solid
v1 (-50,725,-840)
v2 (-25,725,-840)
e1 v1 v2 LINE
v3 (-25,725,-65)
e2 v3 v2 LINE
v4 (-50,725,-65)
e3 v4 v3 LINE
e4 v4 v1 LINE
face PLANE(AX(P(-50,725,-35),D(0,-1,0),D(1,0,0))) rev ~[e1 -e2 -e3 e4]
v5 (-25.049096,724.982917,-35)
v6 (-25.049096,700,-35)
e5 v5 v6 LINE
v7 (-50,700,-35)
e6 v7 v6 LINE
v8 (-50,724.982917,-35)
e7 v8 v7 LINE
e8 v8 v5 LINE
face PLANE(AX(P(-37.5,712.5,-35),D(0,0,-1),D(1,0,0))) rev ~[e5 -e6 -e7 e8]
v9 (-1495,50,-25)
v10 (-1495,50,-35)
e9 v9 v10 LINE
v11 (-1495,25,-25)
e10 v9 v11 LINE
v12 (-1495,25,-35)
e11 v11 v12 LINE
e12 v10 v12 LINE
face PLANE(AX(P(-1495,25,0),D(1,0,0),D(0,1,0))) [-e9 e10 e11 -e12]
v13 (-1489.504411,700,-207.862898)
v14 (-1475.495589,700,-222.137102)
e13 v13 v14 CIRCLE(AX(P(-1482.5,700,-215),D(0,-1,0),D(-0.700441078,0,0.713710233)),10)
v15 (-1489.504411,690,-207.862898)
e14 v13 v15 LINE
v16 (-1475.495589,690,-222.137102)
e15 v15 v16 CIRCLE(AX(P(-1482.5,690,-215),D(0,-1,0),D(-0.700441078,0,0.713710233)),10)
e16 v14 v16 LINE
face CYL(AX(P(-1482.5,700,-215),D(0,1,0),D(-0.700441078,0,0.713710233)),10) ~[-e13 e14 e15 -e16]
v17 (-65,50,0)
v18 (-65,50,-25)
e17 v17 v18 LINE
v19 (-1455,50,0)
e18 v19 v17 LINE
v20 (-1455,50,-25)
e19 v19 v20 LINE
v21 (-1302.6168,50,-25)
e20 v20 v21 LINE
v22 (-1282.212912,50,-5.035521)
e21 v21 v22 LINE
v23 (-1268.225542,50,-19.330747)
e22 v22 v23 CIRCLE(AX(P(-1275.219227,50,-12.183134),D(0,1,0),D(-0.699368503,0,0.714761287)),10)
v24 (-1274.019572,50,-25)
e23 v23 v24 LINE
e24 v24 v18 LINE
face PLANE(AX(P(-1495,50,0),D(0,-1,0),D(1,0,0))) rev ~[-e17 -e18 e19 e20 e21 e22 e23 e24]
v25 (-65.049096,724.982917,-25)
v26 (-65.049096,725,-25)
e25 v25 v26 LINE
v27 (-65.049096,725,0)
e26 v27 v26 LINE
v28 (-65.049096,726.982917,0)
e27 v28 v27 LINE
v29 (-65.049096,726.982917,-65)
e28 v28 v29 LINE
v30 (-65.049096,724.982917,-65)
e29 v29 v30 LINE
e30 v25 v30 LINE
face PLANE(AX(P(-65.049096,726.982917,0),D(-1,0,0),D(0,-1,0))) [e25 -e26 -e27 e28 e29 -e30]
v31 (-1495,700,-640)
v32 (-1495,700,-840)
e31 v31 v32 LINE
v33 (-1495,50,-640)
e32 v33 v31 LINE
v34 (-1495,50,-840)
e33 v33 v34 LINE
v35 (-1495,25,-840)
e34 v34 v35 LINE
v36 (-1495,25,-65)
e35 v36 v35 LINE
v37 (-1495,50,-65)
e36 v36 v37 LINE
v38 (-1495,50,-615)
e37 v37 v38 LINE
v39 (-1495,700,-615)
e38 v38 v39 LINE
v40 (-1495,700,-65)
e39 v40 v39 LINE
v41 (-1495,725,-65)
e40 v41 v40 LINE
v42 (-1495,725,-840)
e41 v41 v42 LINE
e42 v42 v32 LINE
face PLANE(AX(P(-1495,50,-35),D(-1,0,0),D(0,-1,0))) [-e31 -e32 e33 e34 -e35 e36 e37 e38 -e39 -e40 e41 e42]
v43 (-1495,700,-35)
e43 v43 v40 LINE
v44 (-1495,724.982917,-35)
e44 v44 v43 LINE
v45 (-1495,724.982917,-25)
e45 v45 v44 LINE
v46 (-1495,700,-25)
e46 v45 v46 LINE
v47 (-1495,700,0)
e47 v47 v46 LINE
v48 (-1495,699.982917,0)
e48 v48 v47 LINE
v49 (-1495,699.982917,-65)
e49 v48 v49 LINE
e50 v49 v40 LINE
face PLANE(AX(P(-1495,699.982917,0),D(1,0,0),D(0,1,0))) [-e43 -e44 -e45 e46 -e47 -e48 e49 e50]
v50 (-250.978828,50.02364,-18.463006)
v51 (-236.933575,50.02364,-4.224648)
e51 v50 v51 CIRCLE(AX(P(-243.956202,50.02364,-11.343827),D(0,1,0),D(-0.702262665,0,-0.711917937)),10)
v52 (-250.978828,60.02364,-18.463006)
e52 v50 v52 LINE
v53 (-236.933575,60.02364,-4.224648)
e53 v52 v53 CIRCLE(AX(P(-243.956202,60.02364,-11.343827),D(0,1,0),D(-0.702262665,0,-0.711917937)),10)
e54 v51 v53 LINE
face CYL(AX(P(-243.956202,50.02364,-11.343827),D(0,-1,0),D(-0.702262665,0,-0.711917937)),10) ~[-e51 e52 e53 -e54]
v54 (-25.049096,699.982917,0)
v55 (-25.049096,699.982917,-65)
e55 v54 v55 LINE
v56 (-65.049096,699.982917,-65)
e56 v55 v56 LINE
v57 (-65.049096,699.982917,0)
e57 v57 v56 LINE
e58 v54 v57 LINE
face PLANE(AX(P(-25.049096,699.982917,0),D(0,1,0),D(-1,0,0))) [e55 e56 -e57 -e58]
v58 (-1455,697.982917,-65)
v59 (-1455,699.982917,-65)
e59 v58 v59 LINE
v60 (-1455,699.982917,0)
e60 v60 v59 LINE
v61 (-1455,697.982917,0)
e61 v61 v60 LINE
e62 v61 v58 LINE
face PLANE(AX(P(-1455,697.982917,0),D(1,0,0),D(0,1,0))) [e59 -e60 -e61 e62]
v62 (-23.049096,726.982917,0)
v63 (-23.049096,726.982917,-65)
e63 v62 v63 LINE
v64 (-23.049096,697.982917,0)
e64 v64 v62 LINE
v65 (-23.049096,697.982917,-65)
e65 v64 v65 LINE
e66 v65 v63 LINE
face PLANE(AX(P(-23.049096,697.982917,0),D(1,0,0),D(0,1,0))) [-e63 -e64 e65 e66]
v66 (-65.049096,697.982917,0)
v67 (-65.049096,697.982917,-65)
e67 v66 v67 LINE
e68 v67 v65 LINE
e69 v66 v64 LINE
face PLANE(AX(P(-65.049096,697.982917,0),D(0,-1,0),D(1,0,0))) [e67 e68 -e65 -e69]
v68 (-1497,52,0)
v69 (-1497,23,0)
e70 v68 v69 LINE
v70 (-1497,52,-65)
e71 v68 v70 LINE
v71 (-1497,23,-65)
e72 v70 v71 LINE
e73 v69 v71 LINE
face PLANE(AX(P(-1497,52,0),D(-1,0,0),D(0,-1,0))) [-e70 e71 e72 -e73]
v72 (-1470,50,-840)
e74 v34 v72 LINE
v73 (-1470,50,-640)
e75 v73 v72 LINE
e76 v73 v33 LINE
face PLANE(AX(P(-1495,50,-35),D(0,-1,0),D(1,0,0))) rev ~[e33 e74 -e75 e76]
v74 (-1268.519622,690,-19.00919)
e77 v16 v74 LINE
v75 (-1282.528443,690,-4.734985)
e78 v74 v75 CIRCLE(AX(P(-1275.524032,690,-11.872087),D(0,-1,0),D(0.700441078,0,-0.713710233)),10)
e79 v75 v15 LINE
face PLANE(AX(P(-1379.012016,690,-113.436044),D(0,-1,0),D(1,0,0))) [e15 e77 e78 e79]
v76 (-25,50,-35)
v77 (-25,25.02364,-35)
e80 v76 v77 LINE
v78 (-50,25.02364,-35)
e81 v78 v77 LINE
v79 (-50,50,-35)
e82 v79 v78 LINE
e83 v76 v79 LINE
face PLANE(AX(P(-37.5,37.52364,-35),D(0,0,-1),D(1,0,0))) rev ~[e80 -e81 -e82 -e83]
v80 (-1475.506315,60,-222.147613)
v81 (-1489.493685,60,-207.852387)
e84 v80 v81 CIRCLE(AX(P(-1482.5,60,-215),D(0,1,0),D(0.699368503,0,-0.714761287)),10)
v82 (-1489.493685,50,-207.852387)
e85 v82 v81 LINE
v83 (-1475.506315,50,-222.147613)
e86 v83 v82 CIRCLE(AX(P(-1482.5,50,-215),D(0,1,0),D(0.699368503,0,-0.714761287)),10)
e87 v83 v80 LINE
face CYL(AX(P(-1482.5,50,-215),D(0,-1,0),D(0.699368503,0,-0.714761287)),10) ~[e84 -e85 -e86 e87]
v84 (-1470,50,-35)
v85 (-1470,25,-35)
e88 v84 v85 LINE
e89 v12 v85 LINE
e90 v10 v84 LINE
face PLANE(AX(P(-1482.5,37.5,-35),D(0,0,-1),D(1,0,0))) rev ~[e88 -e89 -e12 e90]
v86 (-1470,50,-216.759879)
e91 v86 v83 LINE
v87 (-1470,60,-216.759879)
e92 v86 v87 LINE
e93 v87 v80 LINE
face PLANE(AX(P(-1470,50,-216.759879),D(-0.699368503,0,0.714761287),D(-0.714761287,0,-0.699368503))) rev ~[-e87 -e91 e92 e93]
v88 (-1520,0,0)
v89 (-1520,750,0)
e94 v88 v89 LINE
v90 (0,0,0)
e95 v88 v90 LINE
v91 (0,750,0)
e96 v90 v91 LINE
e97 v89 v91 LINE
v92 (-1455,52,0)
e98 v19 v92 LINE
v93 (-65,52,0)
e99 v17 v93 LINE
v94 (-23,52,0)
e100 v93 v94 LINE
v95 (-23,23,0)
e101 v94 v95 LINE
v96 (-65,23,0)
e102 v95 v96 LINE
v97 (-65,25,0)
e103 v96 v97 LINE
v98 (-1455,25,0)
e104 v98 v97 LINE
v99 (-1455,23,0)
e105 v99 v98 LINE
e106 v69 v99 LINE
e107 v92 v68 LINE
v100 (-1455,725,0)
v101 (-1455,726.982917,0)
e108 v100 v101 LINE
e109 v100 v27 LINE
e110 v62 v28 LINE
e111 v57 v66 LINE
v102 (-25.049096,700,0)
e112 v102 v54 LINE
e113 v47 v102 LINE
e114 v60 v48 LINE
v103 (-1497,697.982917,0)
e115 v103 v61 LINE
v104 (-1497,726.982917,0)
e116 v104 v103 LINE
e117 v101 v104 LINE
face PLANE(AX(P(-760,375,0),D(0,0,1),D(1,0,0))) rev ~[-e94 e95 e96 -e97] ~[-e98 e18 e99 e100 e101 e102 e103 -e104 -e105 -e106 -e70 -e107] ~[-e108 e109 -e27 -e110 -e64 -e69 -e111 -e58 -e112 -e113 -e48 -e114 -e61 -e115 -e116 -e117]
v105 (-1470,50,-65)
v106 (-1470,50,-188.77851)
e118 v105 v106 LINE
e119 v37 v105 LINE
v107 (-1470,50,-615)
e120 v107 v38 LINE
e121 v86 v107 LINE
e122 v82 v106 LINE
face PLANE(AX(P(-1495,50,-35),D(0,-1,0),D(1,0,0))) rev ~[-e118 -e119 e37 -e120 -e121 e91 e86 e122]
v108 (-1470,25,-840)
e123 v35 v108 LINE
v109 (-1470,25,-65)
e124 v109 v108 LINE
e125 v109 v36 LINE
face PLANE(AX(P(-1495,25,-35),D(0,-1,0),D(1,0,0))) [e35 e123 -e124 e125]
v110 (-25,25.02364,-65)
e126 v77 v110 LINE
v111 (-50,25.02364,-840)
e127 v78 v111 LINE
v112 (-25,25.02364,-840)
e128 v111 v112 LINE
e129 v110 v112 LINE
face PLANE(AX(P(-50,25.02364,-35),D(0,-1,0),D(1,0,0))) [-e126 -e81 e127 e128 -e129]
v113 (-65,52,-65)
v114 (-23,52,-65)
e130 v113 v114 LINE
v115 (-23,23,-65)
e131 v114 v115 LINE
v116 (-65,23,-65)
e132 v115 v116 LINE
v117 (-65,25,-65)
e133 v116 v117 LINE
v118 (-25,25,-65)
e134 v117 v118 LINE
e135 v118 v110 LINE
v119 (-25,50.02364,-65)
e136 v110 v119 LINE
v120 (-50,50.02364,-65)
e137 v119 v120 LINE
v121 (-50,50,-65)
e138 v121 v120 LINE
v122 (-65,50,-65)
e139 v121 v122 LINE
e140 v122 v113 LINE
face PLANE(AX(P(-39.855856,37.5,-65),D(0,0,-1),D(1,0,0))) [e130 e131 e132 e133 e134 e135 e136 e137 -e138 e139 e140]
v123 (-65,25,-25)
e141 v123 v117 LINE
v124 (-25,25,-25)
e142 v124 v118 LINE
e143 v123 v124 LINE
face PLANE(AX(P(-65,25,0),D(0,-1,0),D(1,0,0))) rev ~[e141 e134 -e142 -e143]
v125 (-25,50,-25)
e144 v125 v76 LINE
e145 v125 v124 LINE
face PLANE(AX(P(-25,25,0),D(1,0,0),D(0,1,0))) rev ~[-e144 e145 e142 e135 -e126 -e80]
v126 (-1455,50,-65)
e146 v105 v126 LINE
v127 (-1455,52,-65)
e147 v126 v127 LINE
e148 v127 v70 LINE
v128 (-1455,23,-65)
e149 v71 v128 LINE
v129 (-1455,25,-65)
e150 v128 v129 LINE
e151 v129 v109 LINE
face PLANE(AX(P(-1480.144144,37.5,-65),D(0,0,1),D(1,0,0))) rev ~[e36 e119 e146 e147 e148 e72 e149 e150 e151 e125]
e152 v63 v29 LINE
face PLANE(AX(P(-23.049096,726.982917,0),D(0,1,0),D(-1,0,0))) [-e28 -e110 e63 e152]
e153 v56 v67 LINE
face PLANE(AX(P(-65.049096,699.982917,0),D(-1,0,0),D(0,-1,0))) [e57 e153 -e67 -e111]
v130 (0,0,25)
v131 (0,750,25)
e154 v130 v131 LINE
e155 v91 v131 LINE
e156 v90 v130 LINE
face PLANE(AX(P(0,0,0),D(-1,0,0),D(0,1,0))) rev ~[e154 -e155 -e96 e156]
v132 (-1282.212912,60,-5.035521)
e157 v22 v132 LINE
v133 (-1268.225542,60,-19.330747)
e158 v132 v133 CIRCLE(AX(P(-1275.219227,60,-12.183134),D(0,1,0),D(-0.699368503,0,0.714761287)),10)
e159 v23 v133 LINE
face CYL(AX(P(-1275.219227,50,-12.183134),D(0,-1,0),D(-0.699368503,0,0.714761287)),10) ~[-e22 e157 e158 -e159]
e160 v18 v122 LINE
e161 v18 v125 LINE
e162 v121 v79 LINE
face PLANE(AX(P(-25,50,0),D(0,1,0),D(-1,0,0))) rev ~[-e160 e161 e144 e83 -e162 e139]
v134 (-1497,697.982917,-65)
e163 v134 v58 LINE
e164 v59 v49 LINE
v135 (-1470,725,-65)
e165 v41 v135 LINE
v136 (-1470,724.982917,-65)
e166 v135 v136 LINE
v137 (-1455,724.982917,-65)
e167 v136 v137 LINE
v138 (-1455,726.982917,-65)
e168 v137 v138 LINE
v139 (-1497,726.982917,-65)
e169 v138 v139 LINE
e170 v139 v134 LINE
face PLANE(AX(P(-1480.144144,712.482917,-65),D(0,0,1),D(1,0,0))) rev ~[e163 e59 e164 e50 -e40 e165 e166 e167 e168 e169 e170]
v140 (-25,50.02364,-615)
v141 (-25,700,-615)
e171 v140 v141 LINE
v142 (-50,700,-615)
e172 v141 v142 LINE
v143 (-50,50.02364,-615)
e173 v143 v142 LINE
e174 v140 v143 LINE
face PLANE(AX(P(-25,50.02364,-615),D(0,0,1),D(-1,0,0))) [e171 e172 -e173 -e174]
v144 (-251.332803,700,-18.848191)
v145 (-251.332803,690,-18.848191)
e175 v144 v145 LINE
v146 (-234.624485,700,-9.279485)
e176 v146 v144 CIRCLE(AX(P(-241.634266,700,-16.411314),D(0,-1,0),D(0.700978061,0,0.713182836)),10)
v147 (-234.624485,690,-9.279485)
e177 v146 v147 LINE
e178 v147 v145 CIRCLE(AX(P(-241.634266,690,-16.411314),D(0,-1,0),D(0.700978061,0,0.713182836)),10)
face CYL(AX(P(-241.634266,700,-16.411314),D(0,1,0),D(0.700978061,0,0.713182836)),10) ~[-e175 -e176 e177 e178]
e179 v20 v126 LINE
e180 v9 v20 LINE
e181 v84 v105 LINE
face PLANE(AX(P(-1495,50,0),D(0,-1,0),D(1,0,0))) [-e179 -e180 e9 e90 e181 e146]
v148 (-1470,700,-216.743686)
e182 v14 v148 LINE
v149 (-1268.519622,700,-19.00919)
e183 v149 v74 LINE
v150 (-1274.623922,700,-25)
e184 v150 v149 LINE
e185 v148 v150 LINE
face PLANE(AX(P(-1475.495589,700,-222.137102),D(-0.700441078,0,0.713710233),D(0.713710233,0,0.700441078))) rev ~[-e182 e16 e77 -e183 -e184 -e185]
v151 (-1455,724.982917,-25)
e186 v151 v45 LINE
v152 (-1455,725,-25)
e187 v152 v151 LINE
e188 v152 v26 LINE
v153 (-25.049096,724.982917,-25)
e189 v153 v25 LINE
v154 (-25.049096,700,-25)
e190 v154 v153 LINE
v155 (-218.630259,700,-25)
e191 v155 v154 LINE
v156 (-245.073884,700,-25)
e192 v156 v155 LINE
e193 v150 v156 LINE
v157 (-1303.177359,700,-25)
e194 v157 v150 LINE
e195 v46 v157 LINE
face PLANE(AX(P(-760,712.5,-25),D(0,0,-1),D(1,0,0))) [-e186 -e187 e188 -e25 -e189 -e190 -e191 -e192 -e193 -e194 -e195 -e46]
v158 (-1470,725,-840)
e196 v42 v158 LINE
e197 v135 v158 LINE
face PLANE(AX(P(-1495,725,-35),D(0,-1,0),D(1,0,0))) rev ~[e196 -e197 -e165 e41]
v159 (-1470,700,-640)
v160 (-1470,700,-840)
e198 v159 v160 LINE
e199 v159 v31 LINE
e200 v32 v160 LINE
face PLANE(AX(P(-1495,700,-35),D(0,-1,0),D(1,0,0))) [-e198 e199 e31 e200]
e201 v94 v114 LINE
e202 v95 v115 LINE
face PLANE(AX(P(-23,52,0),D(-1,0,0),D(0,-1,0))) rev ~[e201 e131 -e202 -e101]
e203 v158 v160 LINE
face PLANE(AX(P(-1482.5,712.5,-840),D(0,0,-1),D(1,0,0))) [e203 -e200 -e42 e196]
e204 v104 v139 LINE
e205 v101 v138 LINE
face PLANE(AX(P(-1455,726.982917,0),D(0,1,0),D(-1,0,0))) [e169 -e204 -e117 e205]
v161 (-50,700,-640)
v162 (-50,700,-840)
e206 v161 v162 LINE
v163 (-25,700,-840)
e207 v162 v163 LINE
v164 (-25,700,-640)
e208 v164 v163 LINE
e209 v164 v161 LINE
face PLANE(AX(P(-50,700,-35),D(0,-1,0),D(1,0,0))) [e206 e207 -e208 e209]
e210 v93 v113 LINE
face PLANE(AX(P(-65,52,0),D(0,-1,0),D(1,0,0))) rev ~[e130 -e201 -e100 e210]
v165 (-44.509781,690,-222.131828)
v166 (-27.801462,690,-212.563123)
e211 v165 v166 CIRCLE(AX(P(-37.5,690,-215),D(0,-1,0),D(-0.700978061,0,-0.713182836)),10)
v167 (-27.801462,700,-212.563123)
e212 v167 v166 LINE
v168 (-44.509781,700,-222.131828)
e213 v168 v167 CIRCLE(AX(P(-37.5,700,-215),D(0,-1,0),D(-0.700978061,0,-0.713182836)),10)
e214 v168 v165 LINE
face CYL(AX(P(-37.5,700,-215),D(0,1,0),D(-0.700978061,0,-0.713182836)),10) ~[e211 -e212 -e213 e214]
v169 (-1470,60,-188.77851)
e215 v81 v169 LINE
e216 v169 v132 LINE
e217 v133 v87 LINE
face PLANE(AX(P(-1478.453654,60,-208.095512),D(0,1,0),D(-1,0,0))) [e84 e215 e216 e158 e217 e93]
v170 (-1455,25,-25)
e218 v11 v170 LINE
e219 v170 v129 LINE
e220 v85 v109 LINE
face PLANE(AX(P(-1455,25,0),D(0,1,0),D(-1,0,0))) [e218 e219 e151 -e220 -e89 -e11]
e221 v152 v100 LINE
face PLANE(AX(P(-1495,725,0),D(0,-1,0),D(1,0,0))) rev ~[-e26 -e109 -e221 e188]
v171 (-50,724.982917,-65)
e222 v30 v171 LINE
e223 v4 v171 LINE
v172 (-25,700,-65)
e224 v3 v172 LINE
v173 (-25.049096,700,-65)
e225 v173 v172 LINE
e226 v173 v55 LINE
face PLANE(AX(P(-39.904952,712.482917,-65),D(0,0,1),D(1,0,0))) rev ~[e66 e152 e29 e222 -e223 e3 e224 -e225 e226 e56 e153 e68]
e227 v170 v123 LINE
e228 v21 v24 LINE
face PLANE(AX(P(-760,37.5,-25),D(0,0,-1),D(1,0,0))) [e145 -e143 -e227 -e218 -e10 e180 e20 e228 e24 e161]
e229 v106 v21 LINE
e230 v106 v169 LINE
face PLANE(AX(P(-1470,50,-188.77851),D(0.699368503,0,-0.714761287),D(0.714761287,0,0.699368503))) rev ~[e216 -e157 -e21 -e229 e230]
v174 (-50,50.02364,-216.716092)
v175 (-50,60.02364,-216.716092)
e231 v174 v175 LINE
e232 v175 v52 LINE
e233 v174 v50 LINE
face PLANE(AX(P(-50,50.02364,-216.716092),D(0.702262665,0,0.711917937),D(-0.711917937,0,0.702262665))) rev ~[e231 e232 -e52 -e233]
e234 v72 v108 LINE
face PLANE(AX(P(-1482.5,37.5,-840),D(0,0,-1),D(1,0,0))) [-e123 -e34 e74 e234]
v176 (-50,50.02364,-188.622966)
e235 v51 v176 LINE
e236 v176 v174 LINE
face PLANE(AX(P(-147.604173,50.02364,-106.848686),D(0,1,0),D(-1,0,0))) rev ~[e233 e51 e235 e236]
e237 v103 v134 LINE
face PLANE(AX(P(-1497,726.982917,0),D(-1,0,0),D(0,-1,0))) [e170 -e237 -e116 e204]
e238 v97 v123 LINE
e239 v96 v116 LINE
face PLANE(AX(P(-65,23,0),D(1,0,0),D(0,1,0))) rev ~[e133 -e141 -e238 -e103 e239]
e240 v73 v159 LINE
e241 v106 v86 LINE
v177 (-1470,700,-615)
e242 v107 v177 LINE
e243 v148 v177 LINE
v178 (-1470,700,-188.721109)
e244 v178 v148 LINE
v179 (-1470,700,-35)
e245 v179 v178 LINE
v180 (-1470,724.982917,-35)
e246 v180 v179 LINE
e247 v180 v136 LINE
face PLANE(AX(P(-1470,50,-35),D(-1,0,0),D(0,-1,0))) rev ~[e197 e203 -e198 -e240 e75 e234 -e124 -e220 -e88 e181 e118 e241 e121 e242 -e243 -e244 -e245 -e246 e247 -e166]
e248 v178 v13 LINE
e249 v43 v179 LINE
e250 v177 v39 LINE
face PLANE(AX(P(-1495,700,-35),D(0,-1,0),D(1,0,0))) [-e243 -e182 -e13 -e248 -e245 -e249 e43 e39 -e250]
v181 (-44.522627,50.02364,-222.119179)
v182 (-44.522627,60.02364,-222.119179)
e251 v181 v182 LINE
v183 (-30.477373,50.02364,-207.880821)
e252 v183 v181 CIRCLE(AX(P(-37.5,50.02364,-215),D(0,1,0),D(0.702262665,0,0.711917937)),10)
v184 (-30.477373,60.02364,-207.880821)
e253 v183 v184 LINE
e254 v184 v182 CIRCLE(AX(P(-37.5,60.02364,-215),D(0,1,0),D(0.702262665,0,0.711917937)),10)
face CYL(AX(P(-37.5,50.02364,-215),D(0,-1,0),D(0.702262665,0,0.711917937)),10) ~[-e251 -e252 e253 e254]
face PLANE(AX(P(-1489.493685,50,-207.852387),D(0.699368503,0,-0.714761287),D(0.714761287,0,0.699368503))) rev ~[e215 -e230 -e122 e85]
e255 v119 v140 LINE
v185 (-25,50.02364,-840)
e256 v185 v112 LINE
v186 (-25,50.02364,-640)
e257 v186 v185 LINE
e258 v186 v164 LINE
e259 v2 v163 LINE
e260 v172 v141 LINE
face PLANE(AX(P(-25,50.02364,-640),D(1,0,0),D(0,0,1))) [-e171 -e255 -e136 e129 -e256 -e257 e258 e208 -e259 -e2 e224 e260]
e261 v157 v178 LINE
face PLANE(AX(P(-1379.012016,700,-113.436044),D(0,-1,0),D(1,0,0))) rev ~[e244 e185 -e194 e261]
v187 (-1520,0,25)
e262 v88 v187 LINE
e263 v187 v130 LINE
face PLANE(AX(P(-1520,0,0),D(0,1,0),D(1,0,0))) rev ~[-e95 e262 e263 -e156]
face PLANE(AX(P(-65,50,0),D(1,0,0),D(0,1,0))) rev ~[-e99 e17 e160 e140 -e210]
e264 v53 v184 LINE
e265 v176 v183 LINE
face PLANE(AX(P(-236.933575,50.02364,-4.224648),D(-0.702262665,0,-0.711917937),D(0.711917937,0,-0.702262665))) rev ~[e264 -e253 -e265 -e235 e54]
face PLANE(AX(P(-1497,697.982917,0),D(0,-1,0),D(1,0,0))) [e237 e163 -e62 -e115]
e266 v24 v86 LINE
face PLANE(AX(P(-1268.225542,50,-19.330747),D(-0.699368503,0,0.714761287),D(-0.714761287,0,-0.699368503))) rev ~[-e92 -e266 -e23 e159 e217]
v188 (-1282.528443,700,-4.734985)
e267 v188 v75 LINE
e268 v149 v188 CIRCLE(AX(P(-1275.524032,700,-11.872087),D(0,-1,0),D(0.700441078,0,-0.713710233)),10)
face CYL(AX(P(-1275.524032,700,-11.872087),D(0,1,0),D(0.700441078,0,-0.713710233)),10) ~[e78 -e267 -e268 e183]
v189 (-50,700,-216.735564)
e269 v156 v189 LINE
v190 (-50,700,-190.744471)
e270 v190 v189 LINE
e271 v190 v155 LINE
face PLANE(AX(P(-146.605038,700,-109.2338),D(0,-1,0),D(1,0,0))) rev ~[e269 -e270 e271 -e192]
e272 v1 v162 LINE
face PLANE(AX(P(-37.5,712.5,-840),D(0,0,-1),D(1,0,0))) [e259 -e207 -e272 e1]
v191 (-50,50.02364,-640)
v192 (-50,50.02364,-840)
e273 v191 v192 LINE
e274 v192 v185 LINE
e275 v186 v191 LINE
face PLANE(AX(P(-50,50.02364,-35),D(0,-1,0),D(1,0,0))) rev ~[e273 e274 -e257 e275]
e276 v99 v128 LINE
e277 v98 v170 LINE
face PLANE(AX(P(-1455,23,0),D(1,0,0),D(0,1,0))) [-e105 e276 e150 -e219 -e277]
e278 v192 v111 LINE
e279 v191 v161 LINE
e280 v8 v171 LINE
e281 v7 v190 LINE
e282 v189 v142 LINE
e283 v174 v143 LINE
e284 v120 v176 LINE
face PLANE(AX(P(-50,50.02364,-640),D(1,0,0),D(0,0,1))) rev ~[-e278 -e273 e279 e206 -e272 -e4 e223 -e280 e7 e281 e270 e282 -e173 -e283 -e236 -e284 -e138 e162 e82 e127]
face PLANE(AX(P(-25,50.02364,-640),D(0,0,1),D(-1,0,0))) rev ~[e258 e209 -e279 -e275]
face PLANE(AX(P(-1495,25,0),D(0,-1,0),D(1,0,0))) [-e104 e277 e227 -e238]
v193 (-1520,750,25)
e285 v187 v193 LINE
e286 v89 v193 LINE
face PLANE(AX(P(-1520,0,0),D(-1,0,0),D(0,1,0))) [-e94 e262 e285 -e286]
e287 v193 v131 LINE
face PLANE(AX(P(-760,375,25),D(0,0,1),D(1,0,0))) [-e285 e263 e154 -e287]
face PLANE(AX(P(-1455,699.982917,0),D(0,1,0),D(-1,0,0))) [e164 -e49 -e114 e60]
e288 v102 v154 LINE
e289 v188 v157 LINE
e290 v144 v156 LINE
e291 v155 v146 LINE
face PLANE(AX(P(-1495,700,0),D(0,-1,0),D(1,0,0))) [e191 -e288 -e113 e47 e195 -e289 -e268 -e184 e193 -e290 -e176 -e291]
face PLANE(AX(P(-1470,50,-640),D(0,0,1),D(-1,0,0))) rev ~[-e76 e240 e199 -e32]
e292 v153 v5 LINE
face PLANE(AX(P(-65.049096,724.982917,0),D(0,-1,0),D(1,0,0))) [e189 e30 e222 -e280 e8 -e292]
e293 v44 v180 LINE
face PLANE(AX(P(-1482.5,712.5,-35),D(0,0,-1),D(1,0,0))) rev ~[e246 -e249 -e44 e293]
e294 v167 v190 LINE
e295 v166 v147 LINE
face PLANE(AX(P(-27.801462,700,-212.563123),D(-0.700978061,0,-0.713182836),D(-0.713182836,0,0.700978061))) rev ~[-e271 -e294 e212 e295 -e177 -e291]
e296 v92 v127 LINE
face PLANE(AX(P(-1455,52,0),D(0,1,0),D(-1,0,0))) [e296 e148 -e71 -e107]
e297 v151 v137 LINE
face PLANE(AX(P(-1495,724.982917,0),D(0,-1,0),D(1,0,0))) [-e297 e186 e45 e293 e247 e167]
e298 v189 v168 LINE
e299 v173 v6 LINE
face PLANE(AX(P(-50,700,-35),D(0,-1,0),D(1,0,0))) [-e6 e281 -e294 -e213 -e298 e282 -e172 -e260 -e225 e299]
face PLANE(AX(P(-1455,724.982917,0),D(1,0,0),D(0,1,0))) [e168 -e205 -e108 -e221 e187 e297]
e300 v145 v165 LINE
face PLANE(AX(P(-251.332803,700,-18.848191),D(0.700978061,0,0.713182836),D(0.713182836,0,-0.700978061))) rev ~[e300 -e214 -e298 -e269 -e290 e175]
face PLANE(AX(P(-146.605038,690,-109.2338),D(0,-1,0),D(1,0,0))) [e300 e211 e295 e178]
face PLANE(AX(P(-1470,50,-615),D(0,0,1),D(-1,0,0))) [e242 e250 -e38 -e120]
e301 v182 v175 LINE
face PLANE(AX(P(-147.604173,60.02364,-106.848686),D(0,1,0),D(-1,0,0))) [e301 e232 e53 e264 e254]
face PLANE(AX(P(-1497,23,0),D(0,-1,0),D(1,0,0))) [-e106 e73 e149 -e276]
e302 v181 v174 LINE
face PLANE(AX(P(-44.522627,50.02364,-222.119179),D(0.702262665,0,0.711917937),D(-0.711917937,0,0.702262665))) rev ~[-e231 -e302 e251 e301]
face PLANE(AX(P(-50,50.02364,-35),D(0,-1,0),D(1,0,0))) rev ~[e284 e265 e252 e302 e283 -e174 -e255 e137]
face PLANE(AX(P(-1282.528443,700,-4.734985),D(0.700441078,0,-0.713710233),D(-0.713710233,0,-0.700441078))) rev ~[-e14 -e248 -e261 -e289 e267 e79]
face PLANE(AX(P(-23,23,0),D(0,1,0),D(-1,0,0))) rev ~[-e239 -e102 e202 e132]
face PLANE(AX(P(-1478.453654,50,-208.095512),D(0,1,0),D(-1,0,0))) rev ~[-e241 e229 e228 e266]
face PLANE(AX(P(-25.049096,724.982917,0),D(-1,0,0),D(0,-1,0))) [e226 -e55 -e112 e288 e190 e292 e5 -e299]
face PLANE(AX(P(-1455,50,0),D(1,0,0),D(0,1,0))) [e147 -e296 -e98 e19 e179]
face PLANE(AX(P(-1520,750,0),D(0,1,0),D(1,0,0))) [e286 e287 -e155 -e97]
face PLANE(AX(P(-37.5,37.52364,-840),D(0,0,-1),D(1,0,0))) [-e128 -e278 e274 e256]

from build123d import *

# Parameters (mm, degrees)
F0_W      = 1520
F0_H      = 750
F1_DEPTH  = 25
F2_W      = 1470
F2_H      = 25
F3_DEPTH  = 25
F5_DEPTH  = 65
F7_W      = 25
F7_H      = 25
F8_DEPTH  = 805
F10_DEPTH = 65
F12_W     = 25
F12_H     = 25
F13_DEPTH = 805
F15_W     = 25
F15_H     = 25
F16_DEPTH = 805
F18_W     = 25
F18_H     = 25
F19_DEPTH = 650
F21_W     = 25
F21_H     = 25
F22_DEPTH = 650
F24_DEPTH = 10
F26_DEPTH = 10
F29_DEPTH = 10
F31_DEPTH = 10


with BuildPart() as f1:
    # F0 (on Top) → F1 (new body)
    with BuildSketch(Plane.XY):
        with Locations((-760, 375)):
            Rectangle(F0_W, F0_H)
    extrude(amount=F1_DEPTH)

    # F2 (on face) → F3 (join)
    with BuildSketch(Plane(origin=(0, 0, 0), x_dir=(1, 0, 0), z_dir=(0, 0, -1))):
        with Locations((-760, -37.5)):
            Rectangle(F2_W, F2_H)
        with Locations((-760, -712.5)):
            Rectangle(F2_W, F2_H)
    extrude(amount=F3_DEPTH)

    # F4 (on face) → F5 (join)
    with BuildSketch(Plane(origin=(0, 0, 0), x_dir=(1, 0, 0), z_dir=(0, 0, -1))):
        Polygon((-65, -25), (-25, -25), (-25, -50), (-65, -50), (-65, -52), (-23, -52), (-23, -23), (-65, -23), align=None)
    extrude(amount=F5_DEPTH)

    # F7 (on offset) → F8 (join)
    with BuildSketch(Plane(origin=(0, 0, -35), x_dir=(1, 0, 0), z_dir=(0, 0, -1))):
        with Locations((-37.5, -37.523640207)):
            Rectangle(F7_W, F7_H)
    extrude(amount=F8_DEPTH)

    # F9 (on face) → F10 (join)
    with BuildSketch(Plane.XY):
        Polygon((-1495, 724.9829173088), (-1455, 724.9829173088), (-1455, 726.9829173088), (-1497, 726.9829173088), (-1497, 697.9829173088), (-1455, 697.9829173088), (-1455, 699.9829173088), (-1495, 699.9829173088), align=None)
        Polygon((-65.0490959734, 726.9829173088), (-65.0490959734, 724.9829173088), (-25.0490959734, 724.9829173088), (-25.0490959734, 699.9829173088), (-65.0490959734, 699.9829173088), (-65.0490959734, 697.9829173088), (-23.0490959734, 697.9829173088), (-23.0490959734, 726.9829173088), align=None)
        Polygon((-1455, 25), (-1495, 25), (-1495, 50), (-1455, 50), (-1455, 52), (-1497, 52), (-1497, 23), (-1455, 23), align=None)
    extrude(amount=-F10_DEPTH)

    # F12 (on offset) → F13 (join)
    with BuildSketch(Plane(origin=(0, 0, -35), x_dir=(1, 0, 0), z_dir=(0, 0, -1))):
        with Locations((-1482.5, -37.5)):
            Rectangle(F12_W, F12_H)
    extrude(amount=F13_DEPTH)

    # F15 (on offset) → F16 (join)
    with BuildSketch(Plane(origin=(0, 0, -35), x_dir=(1, 0, 0), z_dir=(0, 0, -1))):
        with Locations((-37.5, -712.5)):
            Rectangle(F15_W, F15_H)
        with Locations((-1482.5, -712.5)):
            Rectangle(F15_W, F15_H)
    extrude(amount=F16_DEPTH)

    # F18 (on offset) → F19 (join)
    with BuildSketch(Plane(origin=(0, 50.023640207, 0), x_dir=(-1, 0, 0), z_dir=(0, 1, 0))):
        with Locations((37.5, -627.5)):
            Rectangle(F18_W, F18_H)
    extrude(amount=F19_DEPTH)

    # F21 (on offset) → F22 (join)
    with BuildSketch(Plane(origin=(0, 50, 0), x_dir=(-1, 0, 0), z_dir=(0, 1, 0))):
        with Locations((1482.5, -627.5)):
            Rectangle(F21_W, F21_H)
    extrude(amount=F22_DEPTH)

    # F23 (on face) → F24 (join)
    with BuildSketch(Plane.XZ.offset(-700)):
        with BuildLine():
            Line((-50, -190.7444713597), (-234.6244849475, -9.2794851613))
            ThreePointArc((-234.6244849475, -9.2794851613), (-246.6039118675, -7.7336055545), (-251.332803081, -18.8481906111))
            Line((-251.332803081, -18.8481906111), (-50, -216.7355636904))
            Line((-50, -216.7355636904), (-50, -190.7444713597))
        make_face()
        with BuildLine():
            Line((-27.8014624786, -212.5631229112), (-50, -190.7444713597))
            Line((-50, -190.7444713597), (-50, -216.7355636904))
            Line((-50, -216.7355636904), (-44.5097806121, -222.131828361))
            ThreePointArc((-44.5097806121, -222.131828361), (-32.5303536921, -223.6777079678), (-27.8014624786, -212.5631229112))
        make_face()
    extrude(amount=F24_DEPTH)

    # F25 (on face) → F26 (join)
    with BuildSketch(Plane(origin=(0, 50.023640207, 0), x_dir=(-1, 0, 0), z_dir=(0, 1, 0))):
        with BuildLine():
            Line((50, -188.6229664357), (50, -216.7160920101))
            Line((50, -216.7160920101), (250.9788283543, -18.4630064225))
            ThreePointArc((250.9788283543, -18.4630064225), (251.07538107, -4.3212004002), (236.9335750477, -4.2246476845))
            Line((236.9335750477, -4.2246476845), (50, -188.6229664357))
        make_face()
        with BuildLine():
            ThreePointArc((30.4773733467, -207.880820631), (30.380820631, -222.0226266533), (44.5226266533, -222.119179369))
            Line((44.5226266533, -222.119179369), (50, -216.7160920101))
            Line((50, -216.7160920101), (50, -188.6229664357))
            Line((50, -188.6229664357), (30.4773733467, -207.880820631))
        make_face()
    extrude(amount=F26_DEPTH)

    # F28 (on offset) → F29 (join)
    with BuildSketch(Plane.XZ.offset(-700)):
        with BuildLine():
            ThreePointArc((-1268.519621658, -19.0091897955), (-1268.3869301053, -4.8676766886), (-1282.5284432121, -4.7349851358))
            Line((-1282.5284432121, -4.7349851358), (-1489.504410777, -207.8628976702))
            ThreePointArc((-1489.504410777, -207.8628976702), (-1489.6371023298, -222.004410777), (-1475.495589223, -222.1371023298))
            Line((-1475.495589223, -222.1371023298), (-1268.519621658, -19.0091897955))
        make_face()
    extrude(amount=F29_DEPTH)

    # F30 (on face) → F31 (join)
    with BuildSketch(Plane(origin=(0, 50, 0), x_dir=(-1, 0, 0), z_dir=(0, 1, 0))):
        with BuildLine():
            ThreePointArc((1475.506314972, -222.1476128693), (1489.6476128693, -221.993685028), (1489.493685028, -207.8523871307))
            Line((1489.493685028, -207.8523871307), (1470, -188.7785095141))
            Line((1470, -188.7785095141), (1470, -216.7598794703))
            Line((1470, -216.7598794703), (1475.506314972, -222.1476128693))
        make_face()
        with BuildLine():
            Line((1470, -216.7598794703), (1470, -188.7785095141))
            Line((1470, -188.7785095141), (1282.212911818, -5.0355213195))
            ThreePointArc((1282.212911818, -5.0355213195), (1268.0716139207, -5.1894491609), (1268.225541762, -19.3307470582))
            Line((1268.225541762, -19.3307470582), (1470, -216.7598794703))
        make_face()
    extrude(amount=F31_DEPTH)


solid = f1.part
